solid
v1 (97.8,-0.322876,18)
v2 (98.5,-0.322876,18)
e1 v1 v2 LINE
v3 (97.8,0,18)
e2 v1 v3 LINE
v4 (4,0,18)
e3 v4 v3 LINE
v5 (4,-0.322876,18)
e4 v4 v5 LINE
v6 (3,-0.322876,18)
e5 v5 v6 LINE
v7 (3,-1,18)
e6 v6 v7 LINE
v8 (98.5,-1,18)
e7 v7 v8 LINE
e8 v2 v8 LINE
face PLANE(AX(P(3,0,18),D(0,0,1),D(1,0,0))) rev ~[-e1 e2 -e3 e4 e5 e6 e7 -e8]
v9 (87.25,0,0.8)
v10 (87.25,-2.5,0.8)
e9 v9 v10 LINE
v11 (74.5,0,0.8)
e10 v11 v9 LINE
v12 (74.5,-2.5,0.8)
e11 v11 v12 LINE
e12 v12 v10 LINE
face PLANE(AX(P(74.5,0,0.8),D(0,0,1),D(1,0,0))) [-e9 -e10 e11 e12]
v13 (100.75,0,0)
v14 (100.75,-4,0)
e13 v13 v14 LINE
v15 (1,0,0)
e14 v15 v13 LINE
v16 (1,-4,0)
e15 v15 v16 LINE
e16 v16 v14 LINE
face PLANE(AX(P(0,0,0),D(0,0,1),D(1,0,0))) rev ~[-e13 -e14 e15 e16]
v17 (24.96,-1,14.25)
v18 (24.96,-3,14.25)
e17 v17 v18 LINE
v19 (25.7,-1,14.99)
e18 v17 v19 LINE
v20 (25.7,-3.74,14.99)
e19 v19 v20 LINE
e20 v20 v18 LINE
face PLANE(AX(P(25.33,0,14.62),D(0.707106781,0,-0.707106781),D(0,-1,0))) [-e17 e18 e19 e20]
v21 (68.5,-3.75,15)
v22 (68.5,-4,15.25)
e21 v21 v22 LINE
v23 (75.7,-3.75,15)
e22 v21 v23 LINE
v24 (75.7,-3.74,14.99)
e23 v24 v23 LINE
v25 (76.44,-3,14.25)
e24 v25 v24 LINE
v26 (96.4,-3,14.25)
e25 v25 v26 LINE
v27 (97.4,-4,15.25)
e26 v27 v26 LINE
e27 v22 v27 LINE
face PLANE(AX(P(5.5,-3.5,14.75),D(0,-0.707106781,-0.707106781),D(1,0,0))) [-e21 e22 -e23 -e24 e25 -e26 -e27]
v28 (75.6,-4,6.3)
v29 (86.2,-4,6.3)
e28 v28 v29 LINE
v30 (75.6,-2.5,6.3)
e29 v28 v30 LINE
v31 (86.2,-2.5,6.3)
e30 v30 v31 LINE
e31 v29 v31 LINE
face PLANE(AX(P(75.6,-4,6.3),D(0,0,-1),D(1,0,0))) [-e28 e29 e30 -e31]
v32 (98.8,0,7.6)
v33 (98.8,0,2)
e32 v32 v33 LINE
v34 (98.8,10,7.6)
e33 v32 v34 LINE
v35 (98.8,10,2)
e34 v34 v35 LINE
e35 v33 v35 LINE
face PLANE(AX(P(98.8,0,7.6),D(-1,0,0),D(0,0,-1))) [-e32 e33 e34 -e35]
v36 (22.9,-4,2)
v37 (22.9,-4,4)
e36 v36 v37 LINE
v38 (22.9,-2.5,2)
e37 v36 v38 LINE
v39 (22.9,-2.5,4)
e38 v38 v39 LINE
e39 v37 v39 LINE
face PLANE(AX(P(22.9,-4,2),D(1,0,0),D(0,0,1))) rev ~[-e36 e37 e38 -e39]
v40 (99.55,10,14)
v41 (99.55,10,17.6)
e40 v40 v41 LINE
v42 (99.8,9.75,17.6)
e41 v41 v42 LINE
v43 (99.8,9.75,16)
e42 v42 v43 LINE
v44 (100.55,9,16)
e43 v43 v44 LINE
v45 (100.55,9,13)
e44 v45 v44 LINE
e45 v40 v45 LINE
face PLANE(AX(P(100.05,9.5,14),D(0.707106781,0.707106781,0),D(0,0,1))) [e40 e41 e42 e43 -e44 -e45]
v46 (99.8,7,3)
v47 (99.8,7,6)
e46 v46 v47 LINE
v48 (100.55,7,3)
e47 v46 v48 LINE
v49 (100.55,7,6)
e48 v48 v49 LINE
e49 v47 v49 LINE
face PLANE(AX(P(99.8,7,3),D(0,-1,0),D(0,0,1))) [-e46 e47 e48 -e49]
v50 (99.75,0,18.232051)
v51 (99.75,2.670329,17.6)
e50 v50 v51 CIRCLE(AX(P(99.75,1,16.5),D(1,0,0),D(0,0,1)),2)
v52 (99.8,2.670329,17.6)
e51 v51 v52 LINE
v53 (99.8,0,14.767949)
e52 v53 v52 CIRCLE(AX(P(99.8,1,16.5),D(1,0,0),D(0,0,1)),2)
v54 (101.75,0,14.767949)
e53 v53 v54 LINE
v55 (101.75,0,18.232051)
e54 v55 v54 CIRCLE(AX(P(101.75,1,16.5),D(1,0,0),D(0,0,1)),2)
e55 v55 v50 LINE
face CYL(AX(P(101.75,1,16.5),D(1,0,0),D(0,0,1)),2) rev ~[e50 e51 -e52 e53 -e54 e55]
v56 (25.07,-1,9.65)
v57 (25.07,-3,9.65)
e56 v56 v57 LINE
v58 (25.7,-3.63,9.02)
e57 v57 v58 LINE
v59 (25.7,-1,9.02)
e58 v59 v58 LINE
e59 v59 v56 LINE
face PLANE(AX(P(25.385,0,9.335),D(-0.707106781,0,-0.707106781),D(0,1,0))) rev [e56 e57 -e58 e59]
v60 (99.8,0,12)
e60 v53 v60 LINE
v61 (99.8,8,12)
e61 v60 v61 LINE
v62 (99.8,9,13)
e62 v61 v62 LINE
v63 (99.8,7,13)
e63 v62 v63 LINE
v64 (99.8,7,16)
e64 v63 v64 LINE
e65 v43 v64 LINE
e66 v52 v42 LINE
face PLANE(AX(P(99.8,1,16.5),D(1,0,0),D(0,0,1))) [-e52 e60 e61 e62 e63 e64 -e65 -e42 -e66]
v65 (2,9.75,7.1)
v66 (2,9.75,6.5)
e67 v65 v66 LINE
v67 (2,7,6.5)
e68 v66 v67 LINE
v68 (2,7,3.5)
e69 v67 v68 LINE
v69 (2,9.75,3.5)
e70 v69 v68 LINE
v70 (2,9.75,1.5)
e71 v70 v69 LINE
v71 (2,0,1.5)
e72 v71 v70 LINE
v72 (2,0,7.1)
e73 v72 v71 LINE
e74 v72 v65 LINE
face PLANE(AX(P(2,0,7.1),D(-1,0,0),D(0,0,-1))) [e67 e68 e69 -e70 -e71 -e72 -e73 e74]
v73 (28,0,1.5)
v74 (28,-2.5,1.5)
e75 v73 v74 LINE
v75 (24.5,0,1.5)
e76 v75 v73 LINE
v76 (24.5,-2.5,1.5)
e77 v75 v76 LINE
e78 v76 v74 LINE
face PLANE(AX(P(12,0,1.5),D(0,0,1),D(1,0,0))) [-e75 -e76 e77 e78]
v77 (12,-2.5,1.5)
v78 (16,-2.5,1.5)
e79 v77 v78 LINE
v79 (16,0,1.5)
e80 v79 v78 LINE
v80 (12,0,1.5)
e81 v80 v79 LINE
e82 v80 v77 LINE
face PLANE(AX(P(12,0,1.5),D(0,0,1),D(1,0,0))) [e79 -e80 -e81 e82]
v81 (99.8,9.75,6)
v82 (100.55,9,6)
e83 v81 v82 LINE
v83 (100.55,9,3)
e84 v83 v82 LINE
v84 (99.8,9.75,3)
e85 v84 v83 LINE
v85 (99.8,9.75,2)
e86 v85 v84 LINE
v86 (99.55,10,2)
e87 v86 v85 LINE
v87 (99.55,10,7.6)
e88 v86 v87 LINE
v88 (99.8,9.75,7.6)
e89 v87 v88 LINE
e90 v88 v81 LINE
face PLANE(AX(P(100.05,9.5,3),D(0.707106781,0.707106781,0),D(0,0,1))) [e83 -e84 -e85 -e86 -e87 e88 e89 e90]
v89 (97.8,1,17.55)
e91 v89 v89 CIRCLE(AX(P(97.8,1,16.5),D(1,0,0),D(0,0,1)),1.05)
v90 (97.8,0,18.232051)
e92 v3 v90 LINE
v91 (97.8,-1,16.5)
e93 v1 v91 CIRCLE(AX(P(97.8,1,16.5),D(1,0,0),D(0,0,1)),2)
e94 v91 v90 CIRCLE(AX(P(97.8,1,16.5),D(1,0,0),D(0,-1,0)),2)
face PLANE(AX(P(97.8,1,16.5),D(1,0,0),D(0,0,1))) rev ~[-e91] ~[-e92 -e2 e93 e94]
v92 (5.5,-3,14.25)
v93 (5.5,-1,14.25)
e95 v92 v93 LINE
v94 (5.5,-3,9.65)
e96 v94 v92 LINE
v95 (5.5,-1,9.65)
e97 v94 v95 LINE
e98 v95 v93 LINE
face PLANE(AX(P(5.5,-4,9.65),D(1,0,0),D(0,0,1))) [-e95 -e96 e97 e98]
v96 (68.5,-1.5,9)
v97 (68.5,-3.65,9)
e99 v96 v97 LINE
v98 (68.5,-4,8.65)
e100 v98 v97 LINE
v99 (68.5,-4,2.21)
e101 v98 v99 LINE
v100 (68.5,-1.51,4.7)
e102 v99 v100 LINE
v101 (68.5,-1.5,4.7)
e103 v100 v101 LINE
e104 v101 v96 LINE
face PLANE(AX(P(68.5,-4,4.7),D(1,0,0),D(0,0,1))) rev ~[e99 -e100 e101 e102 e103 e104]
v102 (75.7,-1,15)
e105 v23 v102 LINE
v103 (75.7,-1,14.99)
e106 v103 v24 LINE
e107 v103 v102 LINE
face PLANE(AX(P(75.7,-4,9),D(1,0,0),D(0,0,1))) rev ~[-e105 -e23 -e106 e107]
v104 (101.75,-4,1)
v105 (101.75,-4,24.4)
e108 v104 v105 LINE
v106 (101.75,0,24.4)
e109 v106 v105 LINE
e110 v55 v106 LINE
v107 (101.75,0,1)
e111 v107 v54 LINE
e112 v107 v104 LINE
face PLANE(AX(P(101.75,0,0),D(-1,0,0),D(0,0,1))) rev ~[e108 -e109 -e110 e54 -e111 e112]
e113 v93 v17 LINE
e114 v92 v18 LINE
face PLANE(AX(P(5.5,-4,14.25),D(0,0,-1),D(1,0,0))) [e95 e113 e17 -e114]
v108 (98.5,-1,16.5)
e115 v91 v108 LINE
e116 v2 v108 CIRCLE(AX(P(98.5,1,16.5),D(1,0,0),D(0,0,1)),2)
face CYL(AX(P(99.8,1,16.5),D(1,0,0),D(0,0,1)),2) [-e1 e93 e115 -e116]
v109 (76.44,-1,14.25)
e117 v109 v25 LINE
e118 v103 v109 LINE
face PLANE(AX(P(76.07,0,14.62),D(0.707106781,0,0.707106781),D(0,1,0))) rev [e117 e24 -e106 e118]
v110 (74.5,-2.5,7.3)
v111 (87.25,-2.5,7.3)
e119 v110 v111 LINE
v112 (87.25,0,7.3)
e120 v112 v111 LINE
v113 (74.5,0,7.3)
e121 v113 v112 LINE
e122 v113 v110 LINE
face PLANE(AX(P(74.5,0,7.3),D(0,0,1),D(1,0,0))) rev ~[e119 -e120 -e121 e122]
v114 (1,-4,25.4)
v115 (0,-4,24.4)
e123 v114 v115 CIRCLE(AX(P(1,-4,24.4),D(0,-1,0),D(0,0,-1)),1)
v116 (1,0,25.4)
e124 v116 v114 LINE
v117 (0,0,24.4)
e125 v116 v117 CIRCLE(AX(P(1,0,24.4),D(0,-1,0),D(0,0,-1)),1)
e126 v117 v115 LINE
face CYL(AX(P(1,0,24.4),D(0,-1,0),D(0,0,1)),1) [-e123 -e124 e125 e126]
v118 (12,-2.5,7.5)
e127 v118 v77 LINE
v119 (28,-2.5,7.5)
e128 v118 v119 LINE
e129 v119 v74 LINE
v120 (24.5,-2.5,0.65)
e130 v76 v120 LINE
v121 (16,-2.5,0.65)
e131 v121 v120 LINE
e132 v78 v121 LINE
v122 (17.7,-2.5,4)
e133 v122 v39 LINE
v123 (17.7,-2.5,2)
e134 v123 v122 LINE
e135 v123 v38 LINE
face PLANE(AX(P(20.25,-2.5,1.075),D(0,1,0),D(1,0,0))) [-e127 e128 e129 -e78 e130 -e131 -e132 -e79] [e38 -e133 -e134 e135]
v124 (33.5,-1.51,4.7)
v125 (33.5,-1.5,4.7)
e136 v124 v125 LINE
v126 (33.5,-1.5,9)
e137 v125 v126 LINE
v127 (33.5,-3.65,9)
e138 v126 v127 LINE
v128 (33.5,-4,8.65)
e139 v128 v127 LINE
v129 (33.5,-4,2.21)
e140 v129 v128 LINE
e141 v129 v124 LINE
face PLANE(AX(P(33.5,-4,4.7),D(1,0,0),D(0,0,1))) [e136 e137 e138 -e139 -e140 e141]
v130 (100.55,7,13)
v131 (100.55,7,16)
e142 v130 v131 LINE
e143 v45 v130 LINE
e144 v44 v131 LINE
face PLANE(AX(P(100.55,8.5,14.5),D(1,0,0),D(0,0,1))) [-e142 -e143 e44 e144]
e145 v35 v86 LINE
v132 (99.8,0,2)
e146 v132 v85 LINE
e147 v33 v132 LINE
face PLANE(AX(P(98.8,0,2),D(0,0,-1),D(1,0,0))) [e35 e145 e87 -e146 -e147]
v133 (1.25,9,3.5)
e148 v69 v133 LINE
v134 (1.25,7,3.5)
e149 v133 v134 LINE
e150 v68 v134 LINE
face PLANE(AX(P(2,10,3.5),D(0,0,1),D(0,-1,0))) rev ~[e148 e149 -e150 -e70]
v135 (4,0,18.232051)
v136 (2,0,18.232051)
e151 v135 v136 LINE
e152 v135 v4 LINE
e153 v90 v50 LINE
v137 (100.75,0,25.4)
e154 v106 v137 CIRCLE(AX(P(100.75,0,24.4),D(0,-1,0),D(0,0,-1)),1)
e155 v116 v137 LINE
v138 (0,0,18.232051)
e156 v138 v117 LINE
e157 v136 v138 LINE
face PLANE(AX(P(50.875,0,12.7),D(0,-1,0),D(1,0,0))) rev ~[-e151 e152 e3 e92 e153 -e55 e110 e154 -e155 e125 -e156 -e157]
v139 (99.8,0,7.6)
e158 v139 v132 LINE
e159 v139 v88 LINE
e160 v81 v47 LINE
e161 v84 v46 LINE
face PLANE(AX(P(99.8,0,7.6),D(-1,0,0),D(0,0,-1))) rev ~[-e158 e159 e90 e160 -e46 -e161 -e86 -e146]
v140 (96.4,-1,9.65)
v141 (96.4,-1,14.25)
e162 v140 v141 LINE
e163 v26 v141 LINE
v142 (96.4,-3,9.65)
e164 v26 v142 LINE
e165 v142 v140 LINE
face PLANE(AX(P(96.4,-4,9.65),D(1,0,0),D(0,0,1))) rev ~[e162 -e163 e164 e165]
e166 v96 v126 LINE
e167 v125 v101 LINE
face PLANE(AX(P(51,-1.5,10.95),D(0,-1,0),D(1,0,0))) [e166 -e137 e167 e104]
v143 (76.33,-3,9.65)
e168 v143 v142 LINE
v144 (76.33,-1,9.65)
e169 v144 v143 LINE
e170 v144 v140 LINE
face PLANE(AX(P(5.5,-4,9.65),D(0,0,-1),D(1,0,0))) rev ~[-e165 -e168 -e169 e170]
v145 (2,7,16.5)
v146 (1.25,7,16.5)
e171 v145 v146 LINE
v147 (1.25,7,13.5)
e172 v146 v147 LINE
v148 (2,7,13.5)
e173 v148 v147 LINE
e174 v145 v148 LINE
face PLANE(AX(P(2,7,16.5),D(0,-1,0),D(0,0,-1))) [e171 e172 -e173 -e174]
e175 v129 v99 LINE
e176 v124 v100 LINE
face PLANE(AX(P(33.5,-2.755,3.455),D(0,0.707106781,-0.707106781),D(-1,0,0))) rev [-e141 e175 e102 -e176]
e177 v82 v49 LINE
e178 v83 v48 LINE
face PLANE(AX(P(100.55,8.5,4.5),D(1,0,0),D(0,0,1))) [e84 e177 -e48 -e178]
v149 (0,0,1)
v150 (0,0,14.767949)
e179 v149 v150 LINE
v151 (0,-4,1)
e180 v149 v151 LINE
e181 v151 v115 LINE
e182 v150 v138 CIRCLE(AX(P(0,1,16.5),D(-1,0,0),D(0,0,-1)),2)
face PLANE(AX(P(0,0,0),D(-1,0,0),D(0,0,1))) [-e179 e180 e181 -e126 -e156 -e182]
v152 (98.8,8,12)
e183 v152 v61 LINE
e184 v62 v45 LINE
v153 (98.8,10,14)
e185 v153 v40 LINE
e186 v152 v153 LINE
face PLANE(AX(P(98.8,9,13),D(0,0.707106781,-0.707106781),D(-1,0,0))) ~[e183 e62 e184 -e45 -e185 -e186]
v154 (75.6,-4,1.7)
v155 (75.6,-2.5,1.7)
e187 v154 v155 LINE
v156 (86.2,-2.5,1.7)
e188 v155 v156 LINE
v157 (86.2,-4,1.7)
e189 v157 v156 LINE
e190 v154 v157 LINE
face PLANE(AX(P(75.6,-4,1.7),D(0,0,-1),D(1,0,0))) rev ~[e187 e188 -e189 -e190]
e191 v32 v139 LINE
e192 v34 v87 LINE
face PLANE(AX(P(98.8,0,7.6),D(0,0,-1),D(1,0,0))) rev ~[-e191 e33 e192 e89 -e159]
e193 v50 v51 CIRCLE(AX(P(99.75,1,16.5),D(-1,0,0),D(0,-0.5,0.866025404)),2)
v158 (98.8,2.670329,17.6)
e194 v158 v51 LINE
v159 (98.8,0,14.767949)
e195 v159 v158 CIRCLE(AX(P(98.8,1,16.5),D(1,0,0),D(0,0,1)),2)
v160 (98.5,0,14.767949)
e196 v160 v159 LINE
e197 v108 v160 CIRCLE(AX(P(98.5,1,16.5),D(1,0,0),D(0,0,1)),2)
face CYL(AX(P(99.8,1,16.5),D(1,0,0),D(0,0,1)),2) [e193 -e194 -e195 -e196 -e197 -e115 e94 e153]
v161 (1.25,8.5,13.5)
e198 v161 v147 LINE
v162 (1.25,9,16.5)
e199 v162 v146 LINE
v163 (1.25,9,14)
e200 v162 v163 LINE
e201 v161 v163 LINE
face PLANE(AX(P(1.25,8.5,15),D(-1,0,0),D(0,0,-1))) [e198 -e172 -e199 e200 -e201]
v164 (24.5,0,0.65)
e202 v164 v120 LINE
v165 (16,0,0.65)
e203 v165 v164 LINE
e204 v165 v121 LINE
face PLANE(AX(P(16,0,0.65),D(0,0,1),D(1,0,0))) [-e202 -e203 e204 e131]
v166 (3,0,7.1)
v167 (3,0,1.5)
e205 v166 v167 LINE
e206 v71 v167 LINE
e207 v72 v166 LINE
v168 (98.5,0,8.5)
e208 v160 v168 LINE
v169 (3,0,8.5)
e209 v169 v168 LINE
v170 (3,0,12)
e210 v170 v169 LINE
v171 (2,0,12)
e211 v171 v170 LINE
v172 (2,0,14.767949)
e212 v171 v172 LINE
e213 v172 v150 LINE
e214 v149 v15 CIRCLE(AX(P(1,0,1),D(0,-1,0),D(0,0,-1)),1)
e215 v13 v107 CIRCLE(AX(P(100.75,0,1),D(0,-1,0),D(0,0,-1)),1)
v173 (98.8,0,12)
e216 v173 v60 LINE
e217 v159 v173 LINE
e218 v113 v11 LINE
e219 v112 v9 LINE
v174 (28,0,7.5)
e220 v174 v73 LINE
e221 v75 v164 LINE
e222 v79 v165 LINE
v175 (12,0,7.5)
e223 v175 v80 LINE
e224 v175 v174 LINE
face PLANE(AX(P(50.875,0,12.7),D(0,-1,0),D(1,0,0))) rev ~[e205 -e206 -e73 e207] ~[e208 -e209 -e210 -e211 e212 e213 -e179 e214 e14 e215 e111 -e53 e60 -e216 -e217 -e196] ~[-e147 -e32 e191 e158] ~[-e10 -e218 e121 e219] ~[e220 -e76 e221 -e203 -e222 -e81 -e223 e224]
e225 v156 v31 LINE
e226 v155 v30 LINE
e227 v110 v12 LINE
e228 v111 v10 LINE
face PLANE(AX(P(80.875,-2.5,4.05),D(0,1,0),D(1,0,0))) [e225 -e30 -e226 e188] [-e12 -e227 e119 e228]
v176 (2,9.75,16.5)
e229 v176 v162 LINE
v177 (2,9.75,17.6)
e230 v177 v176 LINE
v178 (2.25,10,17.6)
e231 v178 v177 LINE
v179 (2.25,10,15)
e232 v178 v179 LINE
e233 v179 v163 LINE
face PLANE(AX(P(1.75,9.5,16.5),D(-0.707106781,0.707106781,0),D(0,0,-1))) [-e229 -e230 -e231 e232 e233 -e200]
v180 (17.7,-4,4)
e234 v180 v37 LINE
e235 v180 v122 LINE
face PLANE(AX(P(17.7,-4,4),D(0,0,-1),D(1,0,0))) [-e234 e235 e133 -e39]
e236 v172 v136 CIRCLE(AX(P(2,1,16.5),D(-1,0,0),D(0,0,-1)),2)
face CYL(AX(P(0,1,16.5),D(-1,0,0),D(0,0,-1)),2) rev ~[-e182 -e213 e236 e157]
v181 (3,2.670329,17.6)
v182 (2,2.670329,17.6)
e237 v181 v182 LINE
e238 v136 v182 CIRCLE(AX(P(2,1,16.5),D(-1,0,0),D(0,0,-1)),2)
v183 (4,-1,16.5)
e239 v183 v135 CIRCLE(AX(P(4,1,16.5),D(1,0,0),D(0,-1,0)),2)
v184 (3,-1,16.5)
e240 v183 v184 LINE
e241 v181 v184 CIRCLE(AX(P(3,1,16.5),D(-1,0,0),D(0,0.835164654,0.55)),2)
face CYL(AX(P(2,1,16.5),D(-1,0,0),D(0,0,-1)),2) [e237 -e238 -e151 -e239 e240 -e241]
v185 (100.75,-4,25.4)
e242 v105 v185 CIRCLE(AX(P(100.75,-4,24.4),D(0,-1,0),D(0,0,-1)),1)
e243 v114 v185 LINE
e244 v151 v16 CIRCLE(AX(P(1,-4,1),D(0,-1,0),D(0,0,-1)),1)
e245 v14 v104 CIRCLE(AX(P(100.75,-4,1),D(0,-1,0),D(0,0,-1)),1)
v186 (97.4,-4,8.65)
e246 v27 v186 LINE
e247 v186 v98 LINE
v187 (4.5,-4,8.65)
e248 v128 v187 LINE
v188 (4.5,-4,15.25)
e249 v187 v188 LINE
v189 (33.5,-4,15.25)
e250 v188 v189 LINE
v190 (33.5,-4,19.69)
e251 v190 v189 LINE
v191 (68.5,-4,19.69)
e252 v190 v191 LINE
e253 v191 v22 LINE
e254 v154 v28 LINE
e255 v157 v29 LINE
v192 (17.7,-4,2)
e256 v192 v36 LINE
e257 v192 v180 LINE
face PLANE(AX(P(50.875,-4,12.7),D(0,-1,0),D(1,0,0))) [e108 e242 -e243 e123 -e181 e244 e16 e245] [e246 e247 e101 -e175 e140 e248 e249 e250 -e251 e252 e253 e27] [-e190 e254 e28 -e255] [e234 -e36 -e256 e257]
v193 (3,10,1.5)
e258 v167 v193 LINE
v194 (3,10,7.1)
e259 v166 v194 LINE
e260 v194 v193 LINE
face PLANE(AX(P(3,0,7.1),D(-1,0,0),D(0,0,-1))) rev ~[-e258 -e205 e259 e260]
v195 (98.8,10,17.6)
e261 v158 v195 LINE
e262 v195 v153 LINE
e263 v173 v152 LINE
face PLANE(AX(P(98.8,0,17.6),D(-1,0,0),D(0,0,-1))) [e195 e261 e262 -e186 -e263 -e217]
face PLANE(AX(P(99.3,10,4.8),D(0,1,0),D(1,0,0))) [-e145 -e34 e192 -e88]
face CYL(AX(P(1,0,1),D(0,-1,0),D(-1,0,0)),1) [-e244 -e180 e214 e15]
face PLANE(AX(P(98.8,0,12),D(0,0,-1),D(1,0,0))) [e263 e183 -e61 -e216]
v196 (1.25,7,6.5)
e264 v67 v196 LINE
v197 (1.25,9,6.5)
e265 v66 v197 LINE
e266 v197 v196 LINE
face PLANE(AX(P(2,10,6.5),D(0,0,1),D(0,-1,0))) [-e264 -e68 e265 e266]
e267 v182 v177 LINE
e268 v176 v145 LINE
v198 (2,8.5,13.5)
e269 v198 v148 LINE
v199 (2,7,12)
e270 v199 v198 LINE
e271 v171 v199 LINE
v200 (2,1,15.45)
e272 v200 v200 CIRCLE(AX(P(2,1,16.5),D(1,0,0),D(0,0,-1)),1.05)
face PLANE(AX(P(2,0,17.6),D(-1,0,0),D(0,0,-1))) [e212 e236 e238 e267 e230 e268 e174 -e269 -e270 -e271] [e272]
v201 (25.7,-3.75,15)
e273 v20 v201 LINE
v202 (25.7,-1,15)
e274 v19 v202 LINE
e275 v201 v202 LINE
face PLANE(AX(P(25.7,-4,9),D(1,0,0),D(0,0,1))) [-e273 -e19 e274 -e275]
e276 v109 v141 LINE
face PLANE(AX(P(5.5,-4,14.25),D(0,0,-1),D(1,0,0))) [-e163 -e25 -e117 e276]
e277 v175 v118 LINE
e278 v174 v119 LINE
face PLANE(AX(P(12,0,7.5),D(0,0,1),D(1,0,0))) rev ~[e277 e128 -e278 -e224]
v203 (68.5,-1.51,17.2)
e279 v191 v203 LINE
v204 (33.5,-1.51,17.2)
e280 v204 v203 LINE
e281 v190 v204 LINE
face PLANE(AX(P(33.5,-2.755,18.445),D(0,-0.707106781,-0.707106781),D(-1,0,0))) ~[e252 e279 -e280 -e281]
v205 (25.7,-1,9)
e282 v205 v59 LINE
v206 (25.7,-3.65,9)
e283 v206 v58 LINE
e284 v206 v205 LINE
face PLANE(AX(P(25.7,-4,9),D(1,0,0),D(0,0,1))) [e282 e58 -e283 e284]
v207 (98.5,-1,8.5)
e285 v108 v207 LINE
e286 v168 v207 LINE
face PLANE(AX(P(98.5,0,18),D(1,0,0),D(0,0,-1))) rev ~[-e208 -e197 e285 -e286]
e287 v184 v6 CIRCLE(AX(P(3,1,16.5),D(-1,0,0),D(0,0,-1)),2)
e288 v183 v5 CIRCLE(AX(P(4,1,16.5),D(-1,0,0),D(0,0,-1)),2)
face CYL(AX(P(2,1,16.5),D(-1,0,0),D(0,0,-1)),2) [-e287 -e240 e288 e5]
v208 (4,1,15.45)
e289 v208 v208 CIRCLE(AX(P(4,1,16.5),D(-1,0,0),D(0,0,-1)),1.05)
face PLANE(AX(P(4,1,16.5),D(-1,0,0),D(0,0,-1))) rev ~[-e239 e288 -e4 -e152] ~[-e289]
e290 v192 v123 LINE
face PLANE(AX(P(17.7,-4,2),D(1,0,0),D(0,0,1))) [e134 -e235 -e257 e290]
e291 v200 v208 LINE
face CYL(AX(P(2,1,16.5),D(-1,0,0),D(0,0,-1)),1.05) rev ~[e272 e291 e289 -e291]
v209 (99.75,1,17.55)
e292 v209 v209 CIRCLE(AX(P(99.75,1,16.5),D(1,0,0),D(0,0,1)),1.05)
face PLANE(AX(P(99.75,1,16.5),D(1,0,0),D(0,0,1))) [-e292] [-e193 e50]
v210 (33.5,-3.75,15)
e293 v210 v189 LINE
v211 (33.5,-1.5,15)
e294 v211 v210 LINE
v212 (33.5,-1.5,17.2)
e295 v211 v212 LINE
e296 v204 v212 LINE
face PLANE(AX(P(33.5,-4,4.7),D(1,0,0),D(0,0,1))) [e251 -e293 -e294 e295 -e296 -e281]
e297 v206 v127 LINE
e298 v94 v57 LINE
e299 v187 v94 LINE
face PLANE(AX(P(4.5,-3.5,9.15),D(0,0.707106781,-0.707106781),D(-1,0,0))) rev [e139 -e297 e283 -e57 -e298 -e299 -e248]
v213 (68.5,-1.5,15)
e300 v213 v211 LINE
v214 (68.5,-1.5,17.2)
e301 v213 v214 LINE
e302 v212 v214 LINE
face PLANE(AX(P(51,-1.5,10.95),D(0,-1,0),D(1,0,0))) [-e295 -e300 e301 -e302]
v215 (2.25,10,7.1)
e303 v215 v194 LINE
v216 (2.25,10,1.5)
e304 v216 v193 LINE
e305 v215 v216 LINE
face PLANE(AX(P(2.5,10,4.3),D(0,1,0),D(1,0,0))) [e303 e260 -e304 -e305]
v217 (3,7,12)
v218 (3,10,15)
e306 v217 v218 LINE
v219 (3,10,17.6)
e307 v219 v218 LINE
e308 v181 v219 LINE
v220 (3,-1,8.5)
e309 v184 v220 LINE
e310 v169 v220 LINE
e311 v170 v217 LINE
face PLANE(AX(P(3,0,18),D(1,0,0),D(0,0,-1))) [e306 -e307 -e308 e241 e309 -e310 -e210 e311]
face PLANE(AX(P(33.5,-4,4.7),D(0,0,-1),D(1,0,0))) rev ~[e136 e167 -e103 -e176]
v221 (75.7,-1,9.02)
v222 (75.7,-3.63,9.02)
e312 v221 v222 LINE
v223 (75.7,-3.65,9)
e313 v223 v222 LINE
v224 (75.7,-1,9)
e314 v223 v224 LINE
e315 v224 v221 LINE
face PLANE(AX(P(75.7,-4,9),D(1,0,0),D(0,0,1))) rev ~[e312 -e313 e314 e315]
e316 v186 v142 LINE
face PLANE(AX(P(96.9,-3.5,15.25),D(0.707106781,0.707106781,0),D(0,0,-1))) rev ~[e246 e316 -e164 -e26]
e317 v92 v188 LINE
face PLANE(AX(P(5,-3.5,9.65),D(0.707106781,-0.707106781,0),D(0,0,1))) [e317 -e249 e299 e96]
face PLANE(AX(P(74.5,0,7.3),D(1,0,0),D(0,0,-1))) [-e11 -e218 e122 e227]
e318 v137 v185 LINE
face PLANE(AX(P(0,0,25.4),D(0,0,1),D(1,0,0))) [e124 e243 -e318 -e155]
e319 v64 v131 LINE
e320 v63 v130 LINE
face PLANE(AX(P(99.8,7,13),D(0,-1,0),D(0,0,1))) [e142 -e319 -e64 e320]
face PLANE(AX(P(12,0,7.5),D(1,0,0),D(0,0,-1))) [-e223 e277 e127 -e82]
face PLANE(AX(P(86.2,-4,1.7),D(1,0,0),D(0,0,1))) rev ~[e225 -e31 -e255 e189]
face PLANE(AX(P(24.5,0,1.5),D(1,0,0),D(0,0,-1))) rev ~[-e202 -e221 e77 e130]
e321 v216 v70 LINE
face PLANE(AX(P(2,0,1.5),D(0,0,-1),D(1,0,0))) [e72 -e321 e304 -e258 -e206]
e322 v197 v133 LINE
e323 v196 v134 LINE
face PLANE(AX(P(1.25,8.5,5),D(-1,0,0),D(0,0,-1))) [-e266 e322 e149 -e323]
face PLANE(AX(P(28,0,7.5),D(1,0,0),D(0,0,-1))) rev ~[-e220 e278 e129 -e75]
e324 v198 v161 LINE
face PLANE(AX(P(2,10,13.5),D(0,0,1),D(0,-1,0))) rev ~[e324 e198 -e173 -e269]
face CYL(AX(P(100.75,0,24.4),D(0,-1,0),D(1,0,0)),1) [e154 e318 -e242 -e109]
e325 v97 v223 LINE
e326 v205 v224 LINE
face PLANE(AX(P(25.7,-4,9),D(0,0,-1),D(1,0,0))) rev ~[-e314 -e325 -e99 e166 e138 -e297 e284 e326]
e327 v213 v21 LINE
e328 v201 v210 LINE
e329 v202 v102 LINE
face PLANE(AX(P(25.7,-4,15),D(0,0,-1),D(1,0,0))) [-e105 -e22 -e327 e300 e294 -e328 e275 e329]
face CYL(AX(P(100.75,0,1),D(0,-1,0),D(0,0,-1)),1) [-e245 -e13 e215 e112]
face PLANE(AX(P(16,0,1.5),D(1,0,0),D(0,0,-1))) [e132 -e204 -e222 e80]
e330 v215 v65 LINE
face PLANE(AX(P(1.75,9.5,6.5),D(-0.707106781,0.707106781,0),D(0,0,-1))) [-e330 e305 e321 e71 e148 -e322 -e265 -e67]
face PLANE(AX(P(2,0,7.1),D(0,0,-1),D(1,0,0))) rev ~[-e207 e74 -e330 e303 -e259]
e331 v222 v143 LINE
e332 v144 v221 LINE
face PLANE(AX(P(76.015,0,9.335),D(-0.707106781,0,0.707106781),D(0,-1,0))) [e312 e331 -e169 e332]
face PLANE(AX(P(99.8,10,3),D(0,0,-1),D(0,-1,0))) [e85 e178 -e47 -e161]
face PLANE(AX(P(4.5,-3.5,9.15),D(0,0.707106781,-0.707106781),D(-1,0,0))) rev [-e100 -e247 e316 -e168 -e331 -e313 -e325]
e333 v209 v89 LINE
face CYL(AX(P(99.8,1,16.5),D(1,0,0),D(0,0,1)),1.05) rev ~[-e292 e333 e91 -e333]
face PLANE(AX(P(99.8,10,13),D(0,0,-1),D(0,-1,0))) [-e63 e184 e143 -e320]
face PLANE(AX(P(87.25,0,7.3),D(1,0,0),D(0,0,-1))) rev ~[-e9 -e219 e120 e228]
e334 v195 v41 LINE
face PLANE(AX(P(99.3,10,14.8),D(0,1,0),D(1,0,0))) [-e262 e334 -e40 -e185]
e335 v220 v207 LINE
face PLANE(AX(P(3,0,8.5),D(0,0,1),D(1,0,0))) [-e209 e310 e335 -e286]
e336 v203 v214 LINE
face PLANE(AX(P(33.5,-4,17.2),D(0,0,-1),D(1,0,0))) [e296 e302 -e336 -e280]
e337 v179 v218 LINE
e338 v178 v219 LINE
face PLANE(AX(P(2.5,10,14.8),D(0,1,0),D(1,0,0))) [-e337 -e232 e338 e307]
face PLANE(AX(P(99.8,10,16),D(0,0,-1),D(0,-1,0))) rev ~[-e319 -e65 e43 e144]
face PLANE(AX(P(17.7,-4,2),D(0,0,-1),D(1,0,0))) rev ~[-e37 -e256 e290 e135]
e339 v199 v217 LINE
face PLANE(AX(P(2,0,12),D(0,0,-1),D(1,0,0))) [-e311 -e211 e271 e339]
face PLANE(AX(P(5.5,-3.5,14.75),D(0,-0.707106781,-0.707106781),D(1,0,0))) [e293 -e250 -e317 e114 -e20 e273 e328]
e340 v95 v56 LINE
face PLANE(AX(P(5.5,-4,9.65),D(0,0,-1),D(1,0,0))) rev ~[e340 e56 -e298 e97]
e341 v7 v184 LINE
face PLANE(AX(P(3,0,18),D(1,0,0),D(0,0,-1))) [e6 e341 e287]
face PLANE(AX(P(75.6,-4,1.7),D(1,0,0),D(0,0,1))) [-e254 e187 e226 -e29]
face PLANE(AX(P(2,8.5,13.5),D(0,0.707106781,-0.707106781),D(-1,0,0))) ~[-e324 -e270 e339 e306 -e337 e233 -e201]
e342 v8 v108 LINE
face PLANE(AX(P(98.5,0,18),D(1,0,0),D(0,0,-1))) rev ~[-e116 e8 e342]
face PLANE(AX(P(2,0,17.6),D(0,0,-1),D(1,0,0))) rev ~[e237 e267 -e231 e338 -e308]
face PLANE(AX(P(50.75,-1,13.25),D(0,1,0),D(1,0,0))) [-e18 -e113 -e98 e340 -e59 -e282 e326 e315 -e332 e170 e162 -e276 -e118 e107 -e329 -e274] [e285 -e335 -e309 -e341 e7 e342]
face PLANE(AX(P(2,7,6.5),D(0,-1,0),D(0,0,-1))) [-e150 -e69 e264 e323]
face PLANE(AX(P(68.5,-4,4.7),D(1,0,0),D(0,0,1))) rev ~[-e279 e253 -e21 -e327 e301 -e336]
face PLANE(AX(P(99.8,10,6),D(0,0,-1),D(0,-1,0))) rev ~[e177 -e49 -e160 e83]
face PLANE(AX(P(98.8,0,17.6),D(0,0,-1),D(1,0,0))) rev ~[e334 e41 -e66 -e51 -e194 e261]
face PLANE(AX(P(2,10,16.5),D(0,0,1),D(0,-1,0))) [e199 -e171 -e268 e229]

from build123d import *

# Parameters (mm, degrees)
SKETCH_W        = 101.75
SKETCH_H        = 25.4
PAD_DEPTH       = 4
FILLET_R        = 1
FILLET001_R     = 1
FILLET002_R     = 1
FILLET003_R     = 1
SKETCH001_W     = 90.9
SKETCH001_H     = 4.6
POCKET_DEPTH    = 5
CHAMFER_SIZE    = 1
CHAMFER001_SIZE = 1
CHAMFER002_SIZE = 1
CHAMFER003_SIZE = 1
SKETCH002_W     = 5.2
SKETCH002_H     = 2
POCKET001_DEPTH = 5
SKETCH003_W     = 50
SKETCH003_H     = 6
POCKET002_DEPTH = 5
SKETCH004_W     = 10.6
SKETCH004_H     = 4.6
POCKET003_DEPTH = 5
SKETCH005_W     = 35
SKETCH005_H     = 12.5
POCKET004_DEPTH = 2.5
CHAMFER004_SIZE = 2.49
CHAMFER005_SIZE = 0.74
CHAMFER006_SIZE = 0.63
CHAMFER007_SIZE = 0.63
CHAMFER008_SIZE = 0.74
CHAMFER009_SIZE = 2.49
SKETCH006_W     = 1
SKETCH006_H     = 5.6
PAD001_DEPTH    = 10
SKETCH007_W     = 3
SKETCH007_H     = 3
PAD002_DEPTH    = 0.75
CHAMFER010_SIZE = 1
SKETCH008_W     = 1
SKETCH008_H     = 5.6
PAD003_DEPTH    = 10
SKETCH009_W     = 3
SKETCH009_H     = 3
PAD004_DEPTH    = 0.75
CHAMFER011_SIZE = 3
CHAMFER012_SIZE = 1
SKETCH010_W     = 1
SKETCH010_H     = 5.6
PAD005_DEPTH    = 10
SKETCH011_W     = 3
SKETCH011_H     = 3
PAD006_DEPTH    = 0.75
CHAMFER013_SIZE = 1
SKETCH012_W     = 1
SKETCH012_H     = 5.6
PAD007_DEPTH    = 10
SKETCH013_W     = 3
SKETCH013_H     = 3
PAD008_DEPTH    = 0.75
CHAMFER014_SIZE = 2
CHAMFER015_SIZE = 1
SKETCH014_W     = 95.5
SKETCH014_H     = 9.5
POCKET005_DEPTH = 1
SKETCH015_R     = 2
PAD009_DEPTH    = 2
SKETCH016_R     = 1.05
POCKET006_DEPTH = 5
SKETCH017_R     = 2
PAD010_DEPTH    = 2
SKETCH018_R     = 1.05
POCKET007_DEPTH = 5
SKETCH019_R     = 2
POCKET008_DEPTH = 2
SKETCH020_R     = 2
POCKET009_DEPTH = 2
SKETCH022_W     = 8.5
SKETCH022_H     = 0.85
POCKET011_DEPTH = 2.5
SKETCH023_W     = 16
SKETCH023_H     = 6
POCKET012_DEPTH = 2.5
SKETCH024_W     = 12.75
SKETCH024_H     = 6.5
POCKET013_DEPTH = 2.5


with BuildPart() as part:
    # Sketch → Pad (new body)
    with BuildSketch(Plane.XZ):
        with Locations((50.875, 12.7)):
            Rectangle(SKETCH_W, SKETCH_H)
    extrude(amount=PAD_DEPTH)

    # Fillet
    fillet_edges = [part.edges().sort_by_distance(p)[0] for p in [
        (101.75, -2, 0),
    ]]
    fillet(fillet_edges, radius=FILLET_R)

    # Fillet001
    fillet001_edges = [part.edges().sort_by_distance(p)[0] for p in [
        (101.75, -2, 25.4),
    ]]
    fillet(fillet001_edges, radius=FILLET001_R)

    # Fillet002
    fillet002_edges = [part.edges().sort_by_distance(p)[0] for p in [
        (0, -2, 25.4),
    ]]
    fillet(fillet002_edges, radius=FILLET002_R)

    # Fillet003
    fillet003_edges = [part.edges().sort_by_distance(p)[0] for p in [
        (0, -2, 0),
    ]]
    fillet(fillet003_edges, radius=FILLET003_R)

    # Sketch001 (on Face10 of Fillet003) → Pocket (cut)
    with BuildSketch(Plane.XZ.offset(4)):
        with Locations((50.95, 11.95)):
            Rectangle(SKETCH001_W, SKETCH001_H)
    extrude(amount=-POCKET_DEPTH, mode=Mode.SUBTRACT)

    # Chamfer
    chamfer_edges = [part.edges().sort_by_distance(p)[0] for p in [
        (50.95, -4, 14.25),
    ]]
    chamfer(chamfer_edges, length=CHAMFER_SIZE)

    # Chamfer001
    chamfer001_edges = [part.edges().sort_by_distance(p)[0] for p in [
        (5.5, -4, 11.95),
    ]]
    chamfer(chamfer001_edges, length=CHAMFER001_SIZE)

    # Chamfer002
    chamfer002_edges = [part.edges().sort_by_distance(p)[0] for p in [
        (50.45, -4, 9.65),
    ]]
    chamfer(chamfer002_edges, length=CHAMFER002_SIZE)

    # Chamfer003
    chamfer003_edges = [part.edges().sort_by_distance(p)[0] for p in [
        (96.4, -4, 12.45),
    ]]
    chamfer(chamfer003_edges, length=CHAMFER003_SIZE)

    # Sketch002 (on Face6 of Chamfer003) → Pocket001 (cut)
    with BuildSketch(Plane.XZ.offset(4)):
        with Locations((20.3, 3)):
            Rectangle(SKETCH002_W, SKETCH002_H)
    extrude(amount=-POCKET001_DEPTH, mode=Mode.SUBTRACT)

    # Sketch003 (on Face7 of Pocket001) → Pocket002 (cut)
    with BuildSketch(Plane.XZ.offset(4)):
        with Locations((50.7, 12)):
            Rectangle(SKETCH003_W, SKETCH003_H)
    extrude(amount=-POCKET002_DEPTH, mode=Mode.SUBTRACT)

    # Sketch004 (on Face7 of Pocket002) → Pocket003 (cut)
    with BuildSketch(Plane.XZ.offset(4)):
        with Locations((80.9, 4)):
            Rectangle(SKETCH004_W, SKETCH004_H)
    extrude(amount=-POCKET003_DEPTH, mode=Mode.SUBTRACT)

    # Sketch005 (on Face7 of Pocket003) → Pocket004 (cut)
    with BuildSketch(Plane.XZ.offset(4)):
        with Locations((51, 10.95)):
            Rectangle(SKETCH005_W, SKETCH005_H)
    extrude(amount=-POCKET004_DEPTH, mode=Mode.SUBTRACT)

    # Chamfer004
    chamfer004_edges = [part.edges().sort_by_distance(p)[0] for p in [
        (51, -4, 4.7),
    ]]
    chamfer(chamfer004_edges, length=CHAMFER004_SIZE)

    # Chamfer005
    chamfer005_edges = [part.edges().sort_by_distance(p)[0] for p in [
        (25.7, -1.5, 14.25),
    ]]
    chamfer(chamfer005_edges, length=CHAMFER005_SIZE)

    # Chamfer006
    chamfer006_edges = [part.edges().sort_by_distance(p)[0] for p in [
        (25.7, -1.5, 9.65),
    ]]
    chamfer(chamfer006_edges, length=CHAMFER006_SIZE)

    # Chamfer007
    chamfer007_edges = [part.edges().sort_by_distance(p)[0] for p in [
        (75.7, -1.5, 9.65),
    ]]
    chamfer(chamfer007_edges, length=CHAMFER007_SIZE)

    # Chamfer008
    chamfer008_edges = [part.edges().sort_by_distance(p)[0] for p in [
        (75.7, -1.5, 14.25),
    ]]
    chamfer(chamfer008_edges, length=CHAMFER008_SIZE)

    # Chamfer009
    chamfer009_edges = [part.edges().sort_by_distance(p)[0] for p in [
        (51, -4, 17.2),
    ]]
    chamfer(chamfer009_edges, length=CHAMFER009_SIZE)

    # Sketch006 (on Face34 of Chamfer009) → Pad001 (join)
    with BuildSketch(Plane(origin=(0, 0, 0), x_dir=(1, 0, 0), z_dir=(0, 1, 0))):
        with Locations((2.5, -4.3)):
            Rectangle(SKETCH006_W, SKETCH006_H)
    extrude(amount=PAD001_DEPTH)

    # Sketch007 (on Face51 of Pad001) → Pad002 (join)
    with BuildSketch(Plane(origin=(2, 0, 0), x_dir=(0, 0, -1), z_dir=(-1, 0, 0))):
        with Locations((-5, -8.5)):
            Rectangle(SKETCH007_W, SKETCH007_H)
    extrude(amount=PAD002_DEPTH)

    # Chamfer010
    chamfer010_edges = [part.edges().sort_by_distance(p)[0] for p in [
        (1.25, 10, 5),
    ]]
    chamfer(chamfer010_edges, length=CHAMFER010_SIZE)

    # Sketch008 (on Face4 of Chamfer010) → Pad003 (join)
    with BuildSketch(Plane(origin=(0, 0, 0), x_dir=(1, 0, 0), z_dir=(0, 1, 0))):
        with Locations((2.5, -14.8)):
            Rectangle(SKETCH008_W, SKETCH008_H)
    extrude(amount=PAD003_DEPTH)

    # Sketch009 (on Face24 of Pad003) → Pad004 (join)
    with BuildSketch(Plane(origin=(2, 0, 0), x_dir=(0, 0, -1), z_dir=(-1, 0, 0))):
        with Locations((-15, -8.5)):
            Rectangle(SKETCH009_W, SKETCH009_H)
    extrude(amount=PAD004_DEPTH)

    # Chamfer011
    chamfer011_edges = [part.edges().sort_by_distance(p)[0] for p in [
        (2.5, 10, 12),
    ]]
    chamfer(chamfer011_edges, length=CHAMFER011_SIZE)

    # Chamfer012
    chamfer012_edges = [part.edges().sort_by_distance(p)[0] for p in [
        (1.25, 10, 15.75),
    ]]
    chamfer(chamfer012_edges, length=CHAMFER012_SIZE)

    # Sketch010 (on Face7 of Chamfer012) → Pad005 (join)
    with BuildSketch(Plane(origin=(0, 0, 0), x_dir=(1, 0, 0), z_dir=(0, 1, 0))):
        with Locations((99.3, -4.8)):
            Rectangle(SKETCH010_W, SKETCH010_H)
    extrude(amount=PAD005_DEPTH)

    # Sketch011 (on Face35 of Pad005) → Pad006 (join)
    with BuildSketch(Plane(origin=(99.8, 0, 0), x_dir=(0, 0, 1), z_dir=(1, 0, 0))):
        with Locations((4.5, -8.5)):
            Rectangle(SKETCH011_W, SKETCH011_H)
    extrude(amount=PAD006_DEPTH)

    # Chamfer013
    chamfer013_edges = [part.edges().sort_by_distance(p)[0] for p in [
        (100.55, 10, 4.5),
    ]]
    chamfer(chamfer013_edges, length=CHAMFER013_SIZE)

    # Sketch012 (on Face4 of Chamfer013) → Pad007 (join)
    with BuildSketch(Plane(origin=(0, 0, 0), x_dir=(1, 0, 0), z_dir=(0, 1, 0))):
        with Locations((99.3, -14.8)):
            Rectangle(SKETCH012_W, SKETCH012_H)
    extrude(amount=PAD007_DEPTH)

    # Sketch013 (on Face54 of Pad007) → Pad008 (join)
    with BuildSketch(Plane(origin=(99.8, 0, 0), x_dir=(0, 0, 1), z_dir=(1, 0, 0))):
        with Locations((14.5, -8.5)):
            Rectangle(SKETCH013_W, SKETCH013_H)
    extrude(amount=PAD008_DEPTH)

    # Chamfer014
    chamfer014_edges = [part.edges().sort_by_distance(p)[0] for p in [
        (99.3, 10, 12),
    ]]
    chamfer(chamfer014_edges, length=CHAMFER014_SIZE)

    # Chamfer015
    chamfer015_edges = [part.edges().sort_by_distance(p)[0] for p in [
        (100.55, 10, 15),
    ]]
    chamfer(chamfer015_edges, length=CHAMFER015_SIZE)

    # Sketch014 (on Face11 of Chamfer015) → Pocket005 (cut)
    with BuildSketch(Plane(origin=(0, 0, 0), x_dir=(1, 0, 0), z_dir=(0, 1, 0))):
        with Locations((50.75, -13.25)):
            Rectangle(SKETCH014_W, SKETCH014_H)
    extrude(amount=-POCKET005_DEPTH, mode=Mode.SUBTRACT)

    # Sketch015 (on Face7 of Pocket005) → Pad009 (join)
    with BuildSketch(Plane(origin=(99.8, 0, 0), x_dir=(0, 0, 1), z_dir=(1, 0, 0))):
        with Locations((16.5, -1)):
            Circle(SKETCH015_R)
    extrude(amount=-PAD009_DEPTH)

    # Sketch016 (on Face98 of Pad009) → Pocket006 (cut)
    with BuildSketch(Plane(origin=(99.8, 0, 0), x_dir=(0, 0, 1), z_dir=(1, 0, 0))):
        with Locations((16.5, -1)):
            Circle(SKETCH016_R)
    extrude(amount=-POCKET006_DEPTH, mode=Mode.SUBTRACT)

    # Sketch017 (on Face39 of Pocket006) → Pad010 (join)
    with BuildSketch(Plane(origin=(2, 0, 0), x_dir=(0, 0, -1), z_dir=(-1, 0, 0))):
        with Locations((-16.5, -1)):
            Circle(SKETCH017_R)
    extrude(amount=-PAD010_DEPTH)

    # Sketch018 (on Face103 of Pad010) → Pocket007 (cut)
    with BuildSketch(Plane(origin=(2, 0, 0), x_dir=(0, 0, -1), z_dir=(-1, 0, 0))):
        with Locations((-16.5, -1)):
            Circle(SKETCH018_R)
    extrude(amount=-POCKET007_DEPTH, mode=Mode.SUBTRACT)

    # Sketch019 (on Face18 of Pocket007) → Pocket008 (cut)
    with BuildSketch(Plane(origin=(0, 0, 0), x_dir=(0, 0, -1), z_dir=(-1, 0, 0))):
        with Locations((-16.5, -1)):
            Circle(SKETCH019_R)
    extrude(amount=-POCKET008_DEPTH, mode=Mode.SUBTRACT)

    # Sketch020 (on Face29 of Pocket008) → Pocket009 (cut)
    with BuildSketch(Plane(origin=(101.75, 0, 0), x_dir=(0, 0, 1), z_dir=(1, 0, 0))):
        with Locations((16.5, -1)):
            Circle(SKETCH020_R)
    extrude(amount=-POCKET009_DEPTH, mode=Mode.SUBTRACT)

    # Sketch022 → Pocket011 (cut)
    with BuildSketch(Plane(origin=(0, 0, 0), x_dir=(1, 0, 0), z_dir=(0, 1, 0))):
        with Locations((20.25, -1.075)):
            Rectangle(SKETCH022_W, SKETCH022_H)
    extrude(amount=-POCKET011_DEPTH, mode=Mode.SUBTRACT)

    # Sketch023 (on Face10 of Pocket011) → Pocket012 (cut)
    with BuildSketch(Plane(origin=(0, 0, 0), x_dir=(1, 0, 0), z_dir=(0, 1, 0))):
        with Locations((20, -4.5)):
            Rectangle(SKETCH023_W, SKETCH023_H)
    extrude(amount=-POCKET012_DEPTH, mode=Mode.SUBTRACT)

    # Sketch024 (on Face10 of Pocket012) → Pocket013 (cut)
    with BuildSketch(Plane(origin=(0, 0, 0), x_dir=(1, 0, 0), z_dir=(0, 1, 0))):
        with Locations((80.875, -4.05)):
            Rectangle(SKETCH024_W, SKETCH024_H)
    extrude(amount=-POCKET013_DEPTH, mode=Mode.SUBTRACT)


solid = part.part
